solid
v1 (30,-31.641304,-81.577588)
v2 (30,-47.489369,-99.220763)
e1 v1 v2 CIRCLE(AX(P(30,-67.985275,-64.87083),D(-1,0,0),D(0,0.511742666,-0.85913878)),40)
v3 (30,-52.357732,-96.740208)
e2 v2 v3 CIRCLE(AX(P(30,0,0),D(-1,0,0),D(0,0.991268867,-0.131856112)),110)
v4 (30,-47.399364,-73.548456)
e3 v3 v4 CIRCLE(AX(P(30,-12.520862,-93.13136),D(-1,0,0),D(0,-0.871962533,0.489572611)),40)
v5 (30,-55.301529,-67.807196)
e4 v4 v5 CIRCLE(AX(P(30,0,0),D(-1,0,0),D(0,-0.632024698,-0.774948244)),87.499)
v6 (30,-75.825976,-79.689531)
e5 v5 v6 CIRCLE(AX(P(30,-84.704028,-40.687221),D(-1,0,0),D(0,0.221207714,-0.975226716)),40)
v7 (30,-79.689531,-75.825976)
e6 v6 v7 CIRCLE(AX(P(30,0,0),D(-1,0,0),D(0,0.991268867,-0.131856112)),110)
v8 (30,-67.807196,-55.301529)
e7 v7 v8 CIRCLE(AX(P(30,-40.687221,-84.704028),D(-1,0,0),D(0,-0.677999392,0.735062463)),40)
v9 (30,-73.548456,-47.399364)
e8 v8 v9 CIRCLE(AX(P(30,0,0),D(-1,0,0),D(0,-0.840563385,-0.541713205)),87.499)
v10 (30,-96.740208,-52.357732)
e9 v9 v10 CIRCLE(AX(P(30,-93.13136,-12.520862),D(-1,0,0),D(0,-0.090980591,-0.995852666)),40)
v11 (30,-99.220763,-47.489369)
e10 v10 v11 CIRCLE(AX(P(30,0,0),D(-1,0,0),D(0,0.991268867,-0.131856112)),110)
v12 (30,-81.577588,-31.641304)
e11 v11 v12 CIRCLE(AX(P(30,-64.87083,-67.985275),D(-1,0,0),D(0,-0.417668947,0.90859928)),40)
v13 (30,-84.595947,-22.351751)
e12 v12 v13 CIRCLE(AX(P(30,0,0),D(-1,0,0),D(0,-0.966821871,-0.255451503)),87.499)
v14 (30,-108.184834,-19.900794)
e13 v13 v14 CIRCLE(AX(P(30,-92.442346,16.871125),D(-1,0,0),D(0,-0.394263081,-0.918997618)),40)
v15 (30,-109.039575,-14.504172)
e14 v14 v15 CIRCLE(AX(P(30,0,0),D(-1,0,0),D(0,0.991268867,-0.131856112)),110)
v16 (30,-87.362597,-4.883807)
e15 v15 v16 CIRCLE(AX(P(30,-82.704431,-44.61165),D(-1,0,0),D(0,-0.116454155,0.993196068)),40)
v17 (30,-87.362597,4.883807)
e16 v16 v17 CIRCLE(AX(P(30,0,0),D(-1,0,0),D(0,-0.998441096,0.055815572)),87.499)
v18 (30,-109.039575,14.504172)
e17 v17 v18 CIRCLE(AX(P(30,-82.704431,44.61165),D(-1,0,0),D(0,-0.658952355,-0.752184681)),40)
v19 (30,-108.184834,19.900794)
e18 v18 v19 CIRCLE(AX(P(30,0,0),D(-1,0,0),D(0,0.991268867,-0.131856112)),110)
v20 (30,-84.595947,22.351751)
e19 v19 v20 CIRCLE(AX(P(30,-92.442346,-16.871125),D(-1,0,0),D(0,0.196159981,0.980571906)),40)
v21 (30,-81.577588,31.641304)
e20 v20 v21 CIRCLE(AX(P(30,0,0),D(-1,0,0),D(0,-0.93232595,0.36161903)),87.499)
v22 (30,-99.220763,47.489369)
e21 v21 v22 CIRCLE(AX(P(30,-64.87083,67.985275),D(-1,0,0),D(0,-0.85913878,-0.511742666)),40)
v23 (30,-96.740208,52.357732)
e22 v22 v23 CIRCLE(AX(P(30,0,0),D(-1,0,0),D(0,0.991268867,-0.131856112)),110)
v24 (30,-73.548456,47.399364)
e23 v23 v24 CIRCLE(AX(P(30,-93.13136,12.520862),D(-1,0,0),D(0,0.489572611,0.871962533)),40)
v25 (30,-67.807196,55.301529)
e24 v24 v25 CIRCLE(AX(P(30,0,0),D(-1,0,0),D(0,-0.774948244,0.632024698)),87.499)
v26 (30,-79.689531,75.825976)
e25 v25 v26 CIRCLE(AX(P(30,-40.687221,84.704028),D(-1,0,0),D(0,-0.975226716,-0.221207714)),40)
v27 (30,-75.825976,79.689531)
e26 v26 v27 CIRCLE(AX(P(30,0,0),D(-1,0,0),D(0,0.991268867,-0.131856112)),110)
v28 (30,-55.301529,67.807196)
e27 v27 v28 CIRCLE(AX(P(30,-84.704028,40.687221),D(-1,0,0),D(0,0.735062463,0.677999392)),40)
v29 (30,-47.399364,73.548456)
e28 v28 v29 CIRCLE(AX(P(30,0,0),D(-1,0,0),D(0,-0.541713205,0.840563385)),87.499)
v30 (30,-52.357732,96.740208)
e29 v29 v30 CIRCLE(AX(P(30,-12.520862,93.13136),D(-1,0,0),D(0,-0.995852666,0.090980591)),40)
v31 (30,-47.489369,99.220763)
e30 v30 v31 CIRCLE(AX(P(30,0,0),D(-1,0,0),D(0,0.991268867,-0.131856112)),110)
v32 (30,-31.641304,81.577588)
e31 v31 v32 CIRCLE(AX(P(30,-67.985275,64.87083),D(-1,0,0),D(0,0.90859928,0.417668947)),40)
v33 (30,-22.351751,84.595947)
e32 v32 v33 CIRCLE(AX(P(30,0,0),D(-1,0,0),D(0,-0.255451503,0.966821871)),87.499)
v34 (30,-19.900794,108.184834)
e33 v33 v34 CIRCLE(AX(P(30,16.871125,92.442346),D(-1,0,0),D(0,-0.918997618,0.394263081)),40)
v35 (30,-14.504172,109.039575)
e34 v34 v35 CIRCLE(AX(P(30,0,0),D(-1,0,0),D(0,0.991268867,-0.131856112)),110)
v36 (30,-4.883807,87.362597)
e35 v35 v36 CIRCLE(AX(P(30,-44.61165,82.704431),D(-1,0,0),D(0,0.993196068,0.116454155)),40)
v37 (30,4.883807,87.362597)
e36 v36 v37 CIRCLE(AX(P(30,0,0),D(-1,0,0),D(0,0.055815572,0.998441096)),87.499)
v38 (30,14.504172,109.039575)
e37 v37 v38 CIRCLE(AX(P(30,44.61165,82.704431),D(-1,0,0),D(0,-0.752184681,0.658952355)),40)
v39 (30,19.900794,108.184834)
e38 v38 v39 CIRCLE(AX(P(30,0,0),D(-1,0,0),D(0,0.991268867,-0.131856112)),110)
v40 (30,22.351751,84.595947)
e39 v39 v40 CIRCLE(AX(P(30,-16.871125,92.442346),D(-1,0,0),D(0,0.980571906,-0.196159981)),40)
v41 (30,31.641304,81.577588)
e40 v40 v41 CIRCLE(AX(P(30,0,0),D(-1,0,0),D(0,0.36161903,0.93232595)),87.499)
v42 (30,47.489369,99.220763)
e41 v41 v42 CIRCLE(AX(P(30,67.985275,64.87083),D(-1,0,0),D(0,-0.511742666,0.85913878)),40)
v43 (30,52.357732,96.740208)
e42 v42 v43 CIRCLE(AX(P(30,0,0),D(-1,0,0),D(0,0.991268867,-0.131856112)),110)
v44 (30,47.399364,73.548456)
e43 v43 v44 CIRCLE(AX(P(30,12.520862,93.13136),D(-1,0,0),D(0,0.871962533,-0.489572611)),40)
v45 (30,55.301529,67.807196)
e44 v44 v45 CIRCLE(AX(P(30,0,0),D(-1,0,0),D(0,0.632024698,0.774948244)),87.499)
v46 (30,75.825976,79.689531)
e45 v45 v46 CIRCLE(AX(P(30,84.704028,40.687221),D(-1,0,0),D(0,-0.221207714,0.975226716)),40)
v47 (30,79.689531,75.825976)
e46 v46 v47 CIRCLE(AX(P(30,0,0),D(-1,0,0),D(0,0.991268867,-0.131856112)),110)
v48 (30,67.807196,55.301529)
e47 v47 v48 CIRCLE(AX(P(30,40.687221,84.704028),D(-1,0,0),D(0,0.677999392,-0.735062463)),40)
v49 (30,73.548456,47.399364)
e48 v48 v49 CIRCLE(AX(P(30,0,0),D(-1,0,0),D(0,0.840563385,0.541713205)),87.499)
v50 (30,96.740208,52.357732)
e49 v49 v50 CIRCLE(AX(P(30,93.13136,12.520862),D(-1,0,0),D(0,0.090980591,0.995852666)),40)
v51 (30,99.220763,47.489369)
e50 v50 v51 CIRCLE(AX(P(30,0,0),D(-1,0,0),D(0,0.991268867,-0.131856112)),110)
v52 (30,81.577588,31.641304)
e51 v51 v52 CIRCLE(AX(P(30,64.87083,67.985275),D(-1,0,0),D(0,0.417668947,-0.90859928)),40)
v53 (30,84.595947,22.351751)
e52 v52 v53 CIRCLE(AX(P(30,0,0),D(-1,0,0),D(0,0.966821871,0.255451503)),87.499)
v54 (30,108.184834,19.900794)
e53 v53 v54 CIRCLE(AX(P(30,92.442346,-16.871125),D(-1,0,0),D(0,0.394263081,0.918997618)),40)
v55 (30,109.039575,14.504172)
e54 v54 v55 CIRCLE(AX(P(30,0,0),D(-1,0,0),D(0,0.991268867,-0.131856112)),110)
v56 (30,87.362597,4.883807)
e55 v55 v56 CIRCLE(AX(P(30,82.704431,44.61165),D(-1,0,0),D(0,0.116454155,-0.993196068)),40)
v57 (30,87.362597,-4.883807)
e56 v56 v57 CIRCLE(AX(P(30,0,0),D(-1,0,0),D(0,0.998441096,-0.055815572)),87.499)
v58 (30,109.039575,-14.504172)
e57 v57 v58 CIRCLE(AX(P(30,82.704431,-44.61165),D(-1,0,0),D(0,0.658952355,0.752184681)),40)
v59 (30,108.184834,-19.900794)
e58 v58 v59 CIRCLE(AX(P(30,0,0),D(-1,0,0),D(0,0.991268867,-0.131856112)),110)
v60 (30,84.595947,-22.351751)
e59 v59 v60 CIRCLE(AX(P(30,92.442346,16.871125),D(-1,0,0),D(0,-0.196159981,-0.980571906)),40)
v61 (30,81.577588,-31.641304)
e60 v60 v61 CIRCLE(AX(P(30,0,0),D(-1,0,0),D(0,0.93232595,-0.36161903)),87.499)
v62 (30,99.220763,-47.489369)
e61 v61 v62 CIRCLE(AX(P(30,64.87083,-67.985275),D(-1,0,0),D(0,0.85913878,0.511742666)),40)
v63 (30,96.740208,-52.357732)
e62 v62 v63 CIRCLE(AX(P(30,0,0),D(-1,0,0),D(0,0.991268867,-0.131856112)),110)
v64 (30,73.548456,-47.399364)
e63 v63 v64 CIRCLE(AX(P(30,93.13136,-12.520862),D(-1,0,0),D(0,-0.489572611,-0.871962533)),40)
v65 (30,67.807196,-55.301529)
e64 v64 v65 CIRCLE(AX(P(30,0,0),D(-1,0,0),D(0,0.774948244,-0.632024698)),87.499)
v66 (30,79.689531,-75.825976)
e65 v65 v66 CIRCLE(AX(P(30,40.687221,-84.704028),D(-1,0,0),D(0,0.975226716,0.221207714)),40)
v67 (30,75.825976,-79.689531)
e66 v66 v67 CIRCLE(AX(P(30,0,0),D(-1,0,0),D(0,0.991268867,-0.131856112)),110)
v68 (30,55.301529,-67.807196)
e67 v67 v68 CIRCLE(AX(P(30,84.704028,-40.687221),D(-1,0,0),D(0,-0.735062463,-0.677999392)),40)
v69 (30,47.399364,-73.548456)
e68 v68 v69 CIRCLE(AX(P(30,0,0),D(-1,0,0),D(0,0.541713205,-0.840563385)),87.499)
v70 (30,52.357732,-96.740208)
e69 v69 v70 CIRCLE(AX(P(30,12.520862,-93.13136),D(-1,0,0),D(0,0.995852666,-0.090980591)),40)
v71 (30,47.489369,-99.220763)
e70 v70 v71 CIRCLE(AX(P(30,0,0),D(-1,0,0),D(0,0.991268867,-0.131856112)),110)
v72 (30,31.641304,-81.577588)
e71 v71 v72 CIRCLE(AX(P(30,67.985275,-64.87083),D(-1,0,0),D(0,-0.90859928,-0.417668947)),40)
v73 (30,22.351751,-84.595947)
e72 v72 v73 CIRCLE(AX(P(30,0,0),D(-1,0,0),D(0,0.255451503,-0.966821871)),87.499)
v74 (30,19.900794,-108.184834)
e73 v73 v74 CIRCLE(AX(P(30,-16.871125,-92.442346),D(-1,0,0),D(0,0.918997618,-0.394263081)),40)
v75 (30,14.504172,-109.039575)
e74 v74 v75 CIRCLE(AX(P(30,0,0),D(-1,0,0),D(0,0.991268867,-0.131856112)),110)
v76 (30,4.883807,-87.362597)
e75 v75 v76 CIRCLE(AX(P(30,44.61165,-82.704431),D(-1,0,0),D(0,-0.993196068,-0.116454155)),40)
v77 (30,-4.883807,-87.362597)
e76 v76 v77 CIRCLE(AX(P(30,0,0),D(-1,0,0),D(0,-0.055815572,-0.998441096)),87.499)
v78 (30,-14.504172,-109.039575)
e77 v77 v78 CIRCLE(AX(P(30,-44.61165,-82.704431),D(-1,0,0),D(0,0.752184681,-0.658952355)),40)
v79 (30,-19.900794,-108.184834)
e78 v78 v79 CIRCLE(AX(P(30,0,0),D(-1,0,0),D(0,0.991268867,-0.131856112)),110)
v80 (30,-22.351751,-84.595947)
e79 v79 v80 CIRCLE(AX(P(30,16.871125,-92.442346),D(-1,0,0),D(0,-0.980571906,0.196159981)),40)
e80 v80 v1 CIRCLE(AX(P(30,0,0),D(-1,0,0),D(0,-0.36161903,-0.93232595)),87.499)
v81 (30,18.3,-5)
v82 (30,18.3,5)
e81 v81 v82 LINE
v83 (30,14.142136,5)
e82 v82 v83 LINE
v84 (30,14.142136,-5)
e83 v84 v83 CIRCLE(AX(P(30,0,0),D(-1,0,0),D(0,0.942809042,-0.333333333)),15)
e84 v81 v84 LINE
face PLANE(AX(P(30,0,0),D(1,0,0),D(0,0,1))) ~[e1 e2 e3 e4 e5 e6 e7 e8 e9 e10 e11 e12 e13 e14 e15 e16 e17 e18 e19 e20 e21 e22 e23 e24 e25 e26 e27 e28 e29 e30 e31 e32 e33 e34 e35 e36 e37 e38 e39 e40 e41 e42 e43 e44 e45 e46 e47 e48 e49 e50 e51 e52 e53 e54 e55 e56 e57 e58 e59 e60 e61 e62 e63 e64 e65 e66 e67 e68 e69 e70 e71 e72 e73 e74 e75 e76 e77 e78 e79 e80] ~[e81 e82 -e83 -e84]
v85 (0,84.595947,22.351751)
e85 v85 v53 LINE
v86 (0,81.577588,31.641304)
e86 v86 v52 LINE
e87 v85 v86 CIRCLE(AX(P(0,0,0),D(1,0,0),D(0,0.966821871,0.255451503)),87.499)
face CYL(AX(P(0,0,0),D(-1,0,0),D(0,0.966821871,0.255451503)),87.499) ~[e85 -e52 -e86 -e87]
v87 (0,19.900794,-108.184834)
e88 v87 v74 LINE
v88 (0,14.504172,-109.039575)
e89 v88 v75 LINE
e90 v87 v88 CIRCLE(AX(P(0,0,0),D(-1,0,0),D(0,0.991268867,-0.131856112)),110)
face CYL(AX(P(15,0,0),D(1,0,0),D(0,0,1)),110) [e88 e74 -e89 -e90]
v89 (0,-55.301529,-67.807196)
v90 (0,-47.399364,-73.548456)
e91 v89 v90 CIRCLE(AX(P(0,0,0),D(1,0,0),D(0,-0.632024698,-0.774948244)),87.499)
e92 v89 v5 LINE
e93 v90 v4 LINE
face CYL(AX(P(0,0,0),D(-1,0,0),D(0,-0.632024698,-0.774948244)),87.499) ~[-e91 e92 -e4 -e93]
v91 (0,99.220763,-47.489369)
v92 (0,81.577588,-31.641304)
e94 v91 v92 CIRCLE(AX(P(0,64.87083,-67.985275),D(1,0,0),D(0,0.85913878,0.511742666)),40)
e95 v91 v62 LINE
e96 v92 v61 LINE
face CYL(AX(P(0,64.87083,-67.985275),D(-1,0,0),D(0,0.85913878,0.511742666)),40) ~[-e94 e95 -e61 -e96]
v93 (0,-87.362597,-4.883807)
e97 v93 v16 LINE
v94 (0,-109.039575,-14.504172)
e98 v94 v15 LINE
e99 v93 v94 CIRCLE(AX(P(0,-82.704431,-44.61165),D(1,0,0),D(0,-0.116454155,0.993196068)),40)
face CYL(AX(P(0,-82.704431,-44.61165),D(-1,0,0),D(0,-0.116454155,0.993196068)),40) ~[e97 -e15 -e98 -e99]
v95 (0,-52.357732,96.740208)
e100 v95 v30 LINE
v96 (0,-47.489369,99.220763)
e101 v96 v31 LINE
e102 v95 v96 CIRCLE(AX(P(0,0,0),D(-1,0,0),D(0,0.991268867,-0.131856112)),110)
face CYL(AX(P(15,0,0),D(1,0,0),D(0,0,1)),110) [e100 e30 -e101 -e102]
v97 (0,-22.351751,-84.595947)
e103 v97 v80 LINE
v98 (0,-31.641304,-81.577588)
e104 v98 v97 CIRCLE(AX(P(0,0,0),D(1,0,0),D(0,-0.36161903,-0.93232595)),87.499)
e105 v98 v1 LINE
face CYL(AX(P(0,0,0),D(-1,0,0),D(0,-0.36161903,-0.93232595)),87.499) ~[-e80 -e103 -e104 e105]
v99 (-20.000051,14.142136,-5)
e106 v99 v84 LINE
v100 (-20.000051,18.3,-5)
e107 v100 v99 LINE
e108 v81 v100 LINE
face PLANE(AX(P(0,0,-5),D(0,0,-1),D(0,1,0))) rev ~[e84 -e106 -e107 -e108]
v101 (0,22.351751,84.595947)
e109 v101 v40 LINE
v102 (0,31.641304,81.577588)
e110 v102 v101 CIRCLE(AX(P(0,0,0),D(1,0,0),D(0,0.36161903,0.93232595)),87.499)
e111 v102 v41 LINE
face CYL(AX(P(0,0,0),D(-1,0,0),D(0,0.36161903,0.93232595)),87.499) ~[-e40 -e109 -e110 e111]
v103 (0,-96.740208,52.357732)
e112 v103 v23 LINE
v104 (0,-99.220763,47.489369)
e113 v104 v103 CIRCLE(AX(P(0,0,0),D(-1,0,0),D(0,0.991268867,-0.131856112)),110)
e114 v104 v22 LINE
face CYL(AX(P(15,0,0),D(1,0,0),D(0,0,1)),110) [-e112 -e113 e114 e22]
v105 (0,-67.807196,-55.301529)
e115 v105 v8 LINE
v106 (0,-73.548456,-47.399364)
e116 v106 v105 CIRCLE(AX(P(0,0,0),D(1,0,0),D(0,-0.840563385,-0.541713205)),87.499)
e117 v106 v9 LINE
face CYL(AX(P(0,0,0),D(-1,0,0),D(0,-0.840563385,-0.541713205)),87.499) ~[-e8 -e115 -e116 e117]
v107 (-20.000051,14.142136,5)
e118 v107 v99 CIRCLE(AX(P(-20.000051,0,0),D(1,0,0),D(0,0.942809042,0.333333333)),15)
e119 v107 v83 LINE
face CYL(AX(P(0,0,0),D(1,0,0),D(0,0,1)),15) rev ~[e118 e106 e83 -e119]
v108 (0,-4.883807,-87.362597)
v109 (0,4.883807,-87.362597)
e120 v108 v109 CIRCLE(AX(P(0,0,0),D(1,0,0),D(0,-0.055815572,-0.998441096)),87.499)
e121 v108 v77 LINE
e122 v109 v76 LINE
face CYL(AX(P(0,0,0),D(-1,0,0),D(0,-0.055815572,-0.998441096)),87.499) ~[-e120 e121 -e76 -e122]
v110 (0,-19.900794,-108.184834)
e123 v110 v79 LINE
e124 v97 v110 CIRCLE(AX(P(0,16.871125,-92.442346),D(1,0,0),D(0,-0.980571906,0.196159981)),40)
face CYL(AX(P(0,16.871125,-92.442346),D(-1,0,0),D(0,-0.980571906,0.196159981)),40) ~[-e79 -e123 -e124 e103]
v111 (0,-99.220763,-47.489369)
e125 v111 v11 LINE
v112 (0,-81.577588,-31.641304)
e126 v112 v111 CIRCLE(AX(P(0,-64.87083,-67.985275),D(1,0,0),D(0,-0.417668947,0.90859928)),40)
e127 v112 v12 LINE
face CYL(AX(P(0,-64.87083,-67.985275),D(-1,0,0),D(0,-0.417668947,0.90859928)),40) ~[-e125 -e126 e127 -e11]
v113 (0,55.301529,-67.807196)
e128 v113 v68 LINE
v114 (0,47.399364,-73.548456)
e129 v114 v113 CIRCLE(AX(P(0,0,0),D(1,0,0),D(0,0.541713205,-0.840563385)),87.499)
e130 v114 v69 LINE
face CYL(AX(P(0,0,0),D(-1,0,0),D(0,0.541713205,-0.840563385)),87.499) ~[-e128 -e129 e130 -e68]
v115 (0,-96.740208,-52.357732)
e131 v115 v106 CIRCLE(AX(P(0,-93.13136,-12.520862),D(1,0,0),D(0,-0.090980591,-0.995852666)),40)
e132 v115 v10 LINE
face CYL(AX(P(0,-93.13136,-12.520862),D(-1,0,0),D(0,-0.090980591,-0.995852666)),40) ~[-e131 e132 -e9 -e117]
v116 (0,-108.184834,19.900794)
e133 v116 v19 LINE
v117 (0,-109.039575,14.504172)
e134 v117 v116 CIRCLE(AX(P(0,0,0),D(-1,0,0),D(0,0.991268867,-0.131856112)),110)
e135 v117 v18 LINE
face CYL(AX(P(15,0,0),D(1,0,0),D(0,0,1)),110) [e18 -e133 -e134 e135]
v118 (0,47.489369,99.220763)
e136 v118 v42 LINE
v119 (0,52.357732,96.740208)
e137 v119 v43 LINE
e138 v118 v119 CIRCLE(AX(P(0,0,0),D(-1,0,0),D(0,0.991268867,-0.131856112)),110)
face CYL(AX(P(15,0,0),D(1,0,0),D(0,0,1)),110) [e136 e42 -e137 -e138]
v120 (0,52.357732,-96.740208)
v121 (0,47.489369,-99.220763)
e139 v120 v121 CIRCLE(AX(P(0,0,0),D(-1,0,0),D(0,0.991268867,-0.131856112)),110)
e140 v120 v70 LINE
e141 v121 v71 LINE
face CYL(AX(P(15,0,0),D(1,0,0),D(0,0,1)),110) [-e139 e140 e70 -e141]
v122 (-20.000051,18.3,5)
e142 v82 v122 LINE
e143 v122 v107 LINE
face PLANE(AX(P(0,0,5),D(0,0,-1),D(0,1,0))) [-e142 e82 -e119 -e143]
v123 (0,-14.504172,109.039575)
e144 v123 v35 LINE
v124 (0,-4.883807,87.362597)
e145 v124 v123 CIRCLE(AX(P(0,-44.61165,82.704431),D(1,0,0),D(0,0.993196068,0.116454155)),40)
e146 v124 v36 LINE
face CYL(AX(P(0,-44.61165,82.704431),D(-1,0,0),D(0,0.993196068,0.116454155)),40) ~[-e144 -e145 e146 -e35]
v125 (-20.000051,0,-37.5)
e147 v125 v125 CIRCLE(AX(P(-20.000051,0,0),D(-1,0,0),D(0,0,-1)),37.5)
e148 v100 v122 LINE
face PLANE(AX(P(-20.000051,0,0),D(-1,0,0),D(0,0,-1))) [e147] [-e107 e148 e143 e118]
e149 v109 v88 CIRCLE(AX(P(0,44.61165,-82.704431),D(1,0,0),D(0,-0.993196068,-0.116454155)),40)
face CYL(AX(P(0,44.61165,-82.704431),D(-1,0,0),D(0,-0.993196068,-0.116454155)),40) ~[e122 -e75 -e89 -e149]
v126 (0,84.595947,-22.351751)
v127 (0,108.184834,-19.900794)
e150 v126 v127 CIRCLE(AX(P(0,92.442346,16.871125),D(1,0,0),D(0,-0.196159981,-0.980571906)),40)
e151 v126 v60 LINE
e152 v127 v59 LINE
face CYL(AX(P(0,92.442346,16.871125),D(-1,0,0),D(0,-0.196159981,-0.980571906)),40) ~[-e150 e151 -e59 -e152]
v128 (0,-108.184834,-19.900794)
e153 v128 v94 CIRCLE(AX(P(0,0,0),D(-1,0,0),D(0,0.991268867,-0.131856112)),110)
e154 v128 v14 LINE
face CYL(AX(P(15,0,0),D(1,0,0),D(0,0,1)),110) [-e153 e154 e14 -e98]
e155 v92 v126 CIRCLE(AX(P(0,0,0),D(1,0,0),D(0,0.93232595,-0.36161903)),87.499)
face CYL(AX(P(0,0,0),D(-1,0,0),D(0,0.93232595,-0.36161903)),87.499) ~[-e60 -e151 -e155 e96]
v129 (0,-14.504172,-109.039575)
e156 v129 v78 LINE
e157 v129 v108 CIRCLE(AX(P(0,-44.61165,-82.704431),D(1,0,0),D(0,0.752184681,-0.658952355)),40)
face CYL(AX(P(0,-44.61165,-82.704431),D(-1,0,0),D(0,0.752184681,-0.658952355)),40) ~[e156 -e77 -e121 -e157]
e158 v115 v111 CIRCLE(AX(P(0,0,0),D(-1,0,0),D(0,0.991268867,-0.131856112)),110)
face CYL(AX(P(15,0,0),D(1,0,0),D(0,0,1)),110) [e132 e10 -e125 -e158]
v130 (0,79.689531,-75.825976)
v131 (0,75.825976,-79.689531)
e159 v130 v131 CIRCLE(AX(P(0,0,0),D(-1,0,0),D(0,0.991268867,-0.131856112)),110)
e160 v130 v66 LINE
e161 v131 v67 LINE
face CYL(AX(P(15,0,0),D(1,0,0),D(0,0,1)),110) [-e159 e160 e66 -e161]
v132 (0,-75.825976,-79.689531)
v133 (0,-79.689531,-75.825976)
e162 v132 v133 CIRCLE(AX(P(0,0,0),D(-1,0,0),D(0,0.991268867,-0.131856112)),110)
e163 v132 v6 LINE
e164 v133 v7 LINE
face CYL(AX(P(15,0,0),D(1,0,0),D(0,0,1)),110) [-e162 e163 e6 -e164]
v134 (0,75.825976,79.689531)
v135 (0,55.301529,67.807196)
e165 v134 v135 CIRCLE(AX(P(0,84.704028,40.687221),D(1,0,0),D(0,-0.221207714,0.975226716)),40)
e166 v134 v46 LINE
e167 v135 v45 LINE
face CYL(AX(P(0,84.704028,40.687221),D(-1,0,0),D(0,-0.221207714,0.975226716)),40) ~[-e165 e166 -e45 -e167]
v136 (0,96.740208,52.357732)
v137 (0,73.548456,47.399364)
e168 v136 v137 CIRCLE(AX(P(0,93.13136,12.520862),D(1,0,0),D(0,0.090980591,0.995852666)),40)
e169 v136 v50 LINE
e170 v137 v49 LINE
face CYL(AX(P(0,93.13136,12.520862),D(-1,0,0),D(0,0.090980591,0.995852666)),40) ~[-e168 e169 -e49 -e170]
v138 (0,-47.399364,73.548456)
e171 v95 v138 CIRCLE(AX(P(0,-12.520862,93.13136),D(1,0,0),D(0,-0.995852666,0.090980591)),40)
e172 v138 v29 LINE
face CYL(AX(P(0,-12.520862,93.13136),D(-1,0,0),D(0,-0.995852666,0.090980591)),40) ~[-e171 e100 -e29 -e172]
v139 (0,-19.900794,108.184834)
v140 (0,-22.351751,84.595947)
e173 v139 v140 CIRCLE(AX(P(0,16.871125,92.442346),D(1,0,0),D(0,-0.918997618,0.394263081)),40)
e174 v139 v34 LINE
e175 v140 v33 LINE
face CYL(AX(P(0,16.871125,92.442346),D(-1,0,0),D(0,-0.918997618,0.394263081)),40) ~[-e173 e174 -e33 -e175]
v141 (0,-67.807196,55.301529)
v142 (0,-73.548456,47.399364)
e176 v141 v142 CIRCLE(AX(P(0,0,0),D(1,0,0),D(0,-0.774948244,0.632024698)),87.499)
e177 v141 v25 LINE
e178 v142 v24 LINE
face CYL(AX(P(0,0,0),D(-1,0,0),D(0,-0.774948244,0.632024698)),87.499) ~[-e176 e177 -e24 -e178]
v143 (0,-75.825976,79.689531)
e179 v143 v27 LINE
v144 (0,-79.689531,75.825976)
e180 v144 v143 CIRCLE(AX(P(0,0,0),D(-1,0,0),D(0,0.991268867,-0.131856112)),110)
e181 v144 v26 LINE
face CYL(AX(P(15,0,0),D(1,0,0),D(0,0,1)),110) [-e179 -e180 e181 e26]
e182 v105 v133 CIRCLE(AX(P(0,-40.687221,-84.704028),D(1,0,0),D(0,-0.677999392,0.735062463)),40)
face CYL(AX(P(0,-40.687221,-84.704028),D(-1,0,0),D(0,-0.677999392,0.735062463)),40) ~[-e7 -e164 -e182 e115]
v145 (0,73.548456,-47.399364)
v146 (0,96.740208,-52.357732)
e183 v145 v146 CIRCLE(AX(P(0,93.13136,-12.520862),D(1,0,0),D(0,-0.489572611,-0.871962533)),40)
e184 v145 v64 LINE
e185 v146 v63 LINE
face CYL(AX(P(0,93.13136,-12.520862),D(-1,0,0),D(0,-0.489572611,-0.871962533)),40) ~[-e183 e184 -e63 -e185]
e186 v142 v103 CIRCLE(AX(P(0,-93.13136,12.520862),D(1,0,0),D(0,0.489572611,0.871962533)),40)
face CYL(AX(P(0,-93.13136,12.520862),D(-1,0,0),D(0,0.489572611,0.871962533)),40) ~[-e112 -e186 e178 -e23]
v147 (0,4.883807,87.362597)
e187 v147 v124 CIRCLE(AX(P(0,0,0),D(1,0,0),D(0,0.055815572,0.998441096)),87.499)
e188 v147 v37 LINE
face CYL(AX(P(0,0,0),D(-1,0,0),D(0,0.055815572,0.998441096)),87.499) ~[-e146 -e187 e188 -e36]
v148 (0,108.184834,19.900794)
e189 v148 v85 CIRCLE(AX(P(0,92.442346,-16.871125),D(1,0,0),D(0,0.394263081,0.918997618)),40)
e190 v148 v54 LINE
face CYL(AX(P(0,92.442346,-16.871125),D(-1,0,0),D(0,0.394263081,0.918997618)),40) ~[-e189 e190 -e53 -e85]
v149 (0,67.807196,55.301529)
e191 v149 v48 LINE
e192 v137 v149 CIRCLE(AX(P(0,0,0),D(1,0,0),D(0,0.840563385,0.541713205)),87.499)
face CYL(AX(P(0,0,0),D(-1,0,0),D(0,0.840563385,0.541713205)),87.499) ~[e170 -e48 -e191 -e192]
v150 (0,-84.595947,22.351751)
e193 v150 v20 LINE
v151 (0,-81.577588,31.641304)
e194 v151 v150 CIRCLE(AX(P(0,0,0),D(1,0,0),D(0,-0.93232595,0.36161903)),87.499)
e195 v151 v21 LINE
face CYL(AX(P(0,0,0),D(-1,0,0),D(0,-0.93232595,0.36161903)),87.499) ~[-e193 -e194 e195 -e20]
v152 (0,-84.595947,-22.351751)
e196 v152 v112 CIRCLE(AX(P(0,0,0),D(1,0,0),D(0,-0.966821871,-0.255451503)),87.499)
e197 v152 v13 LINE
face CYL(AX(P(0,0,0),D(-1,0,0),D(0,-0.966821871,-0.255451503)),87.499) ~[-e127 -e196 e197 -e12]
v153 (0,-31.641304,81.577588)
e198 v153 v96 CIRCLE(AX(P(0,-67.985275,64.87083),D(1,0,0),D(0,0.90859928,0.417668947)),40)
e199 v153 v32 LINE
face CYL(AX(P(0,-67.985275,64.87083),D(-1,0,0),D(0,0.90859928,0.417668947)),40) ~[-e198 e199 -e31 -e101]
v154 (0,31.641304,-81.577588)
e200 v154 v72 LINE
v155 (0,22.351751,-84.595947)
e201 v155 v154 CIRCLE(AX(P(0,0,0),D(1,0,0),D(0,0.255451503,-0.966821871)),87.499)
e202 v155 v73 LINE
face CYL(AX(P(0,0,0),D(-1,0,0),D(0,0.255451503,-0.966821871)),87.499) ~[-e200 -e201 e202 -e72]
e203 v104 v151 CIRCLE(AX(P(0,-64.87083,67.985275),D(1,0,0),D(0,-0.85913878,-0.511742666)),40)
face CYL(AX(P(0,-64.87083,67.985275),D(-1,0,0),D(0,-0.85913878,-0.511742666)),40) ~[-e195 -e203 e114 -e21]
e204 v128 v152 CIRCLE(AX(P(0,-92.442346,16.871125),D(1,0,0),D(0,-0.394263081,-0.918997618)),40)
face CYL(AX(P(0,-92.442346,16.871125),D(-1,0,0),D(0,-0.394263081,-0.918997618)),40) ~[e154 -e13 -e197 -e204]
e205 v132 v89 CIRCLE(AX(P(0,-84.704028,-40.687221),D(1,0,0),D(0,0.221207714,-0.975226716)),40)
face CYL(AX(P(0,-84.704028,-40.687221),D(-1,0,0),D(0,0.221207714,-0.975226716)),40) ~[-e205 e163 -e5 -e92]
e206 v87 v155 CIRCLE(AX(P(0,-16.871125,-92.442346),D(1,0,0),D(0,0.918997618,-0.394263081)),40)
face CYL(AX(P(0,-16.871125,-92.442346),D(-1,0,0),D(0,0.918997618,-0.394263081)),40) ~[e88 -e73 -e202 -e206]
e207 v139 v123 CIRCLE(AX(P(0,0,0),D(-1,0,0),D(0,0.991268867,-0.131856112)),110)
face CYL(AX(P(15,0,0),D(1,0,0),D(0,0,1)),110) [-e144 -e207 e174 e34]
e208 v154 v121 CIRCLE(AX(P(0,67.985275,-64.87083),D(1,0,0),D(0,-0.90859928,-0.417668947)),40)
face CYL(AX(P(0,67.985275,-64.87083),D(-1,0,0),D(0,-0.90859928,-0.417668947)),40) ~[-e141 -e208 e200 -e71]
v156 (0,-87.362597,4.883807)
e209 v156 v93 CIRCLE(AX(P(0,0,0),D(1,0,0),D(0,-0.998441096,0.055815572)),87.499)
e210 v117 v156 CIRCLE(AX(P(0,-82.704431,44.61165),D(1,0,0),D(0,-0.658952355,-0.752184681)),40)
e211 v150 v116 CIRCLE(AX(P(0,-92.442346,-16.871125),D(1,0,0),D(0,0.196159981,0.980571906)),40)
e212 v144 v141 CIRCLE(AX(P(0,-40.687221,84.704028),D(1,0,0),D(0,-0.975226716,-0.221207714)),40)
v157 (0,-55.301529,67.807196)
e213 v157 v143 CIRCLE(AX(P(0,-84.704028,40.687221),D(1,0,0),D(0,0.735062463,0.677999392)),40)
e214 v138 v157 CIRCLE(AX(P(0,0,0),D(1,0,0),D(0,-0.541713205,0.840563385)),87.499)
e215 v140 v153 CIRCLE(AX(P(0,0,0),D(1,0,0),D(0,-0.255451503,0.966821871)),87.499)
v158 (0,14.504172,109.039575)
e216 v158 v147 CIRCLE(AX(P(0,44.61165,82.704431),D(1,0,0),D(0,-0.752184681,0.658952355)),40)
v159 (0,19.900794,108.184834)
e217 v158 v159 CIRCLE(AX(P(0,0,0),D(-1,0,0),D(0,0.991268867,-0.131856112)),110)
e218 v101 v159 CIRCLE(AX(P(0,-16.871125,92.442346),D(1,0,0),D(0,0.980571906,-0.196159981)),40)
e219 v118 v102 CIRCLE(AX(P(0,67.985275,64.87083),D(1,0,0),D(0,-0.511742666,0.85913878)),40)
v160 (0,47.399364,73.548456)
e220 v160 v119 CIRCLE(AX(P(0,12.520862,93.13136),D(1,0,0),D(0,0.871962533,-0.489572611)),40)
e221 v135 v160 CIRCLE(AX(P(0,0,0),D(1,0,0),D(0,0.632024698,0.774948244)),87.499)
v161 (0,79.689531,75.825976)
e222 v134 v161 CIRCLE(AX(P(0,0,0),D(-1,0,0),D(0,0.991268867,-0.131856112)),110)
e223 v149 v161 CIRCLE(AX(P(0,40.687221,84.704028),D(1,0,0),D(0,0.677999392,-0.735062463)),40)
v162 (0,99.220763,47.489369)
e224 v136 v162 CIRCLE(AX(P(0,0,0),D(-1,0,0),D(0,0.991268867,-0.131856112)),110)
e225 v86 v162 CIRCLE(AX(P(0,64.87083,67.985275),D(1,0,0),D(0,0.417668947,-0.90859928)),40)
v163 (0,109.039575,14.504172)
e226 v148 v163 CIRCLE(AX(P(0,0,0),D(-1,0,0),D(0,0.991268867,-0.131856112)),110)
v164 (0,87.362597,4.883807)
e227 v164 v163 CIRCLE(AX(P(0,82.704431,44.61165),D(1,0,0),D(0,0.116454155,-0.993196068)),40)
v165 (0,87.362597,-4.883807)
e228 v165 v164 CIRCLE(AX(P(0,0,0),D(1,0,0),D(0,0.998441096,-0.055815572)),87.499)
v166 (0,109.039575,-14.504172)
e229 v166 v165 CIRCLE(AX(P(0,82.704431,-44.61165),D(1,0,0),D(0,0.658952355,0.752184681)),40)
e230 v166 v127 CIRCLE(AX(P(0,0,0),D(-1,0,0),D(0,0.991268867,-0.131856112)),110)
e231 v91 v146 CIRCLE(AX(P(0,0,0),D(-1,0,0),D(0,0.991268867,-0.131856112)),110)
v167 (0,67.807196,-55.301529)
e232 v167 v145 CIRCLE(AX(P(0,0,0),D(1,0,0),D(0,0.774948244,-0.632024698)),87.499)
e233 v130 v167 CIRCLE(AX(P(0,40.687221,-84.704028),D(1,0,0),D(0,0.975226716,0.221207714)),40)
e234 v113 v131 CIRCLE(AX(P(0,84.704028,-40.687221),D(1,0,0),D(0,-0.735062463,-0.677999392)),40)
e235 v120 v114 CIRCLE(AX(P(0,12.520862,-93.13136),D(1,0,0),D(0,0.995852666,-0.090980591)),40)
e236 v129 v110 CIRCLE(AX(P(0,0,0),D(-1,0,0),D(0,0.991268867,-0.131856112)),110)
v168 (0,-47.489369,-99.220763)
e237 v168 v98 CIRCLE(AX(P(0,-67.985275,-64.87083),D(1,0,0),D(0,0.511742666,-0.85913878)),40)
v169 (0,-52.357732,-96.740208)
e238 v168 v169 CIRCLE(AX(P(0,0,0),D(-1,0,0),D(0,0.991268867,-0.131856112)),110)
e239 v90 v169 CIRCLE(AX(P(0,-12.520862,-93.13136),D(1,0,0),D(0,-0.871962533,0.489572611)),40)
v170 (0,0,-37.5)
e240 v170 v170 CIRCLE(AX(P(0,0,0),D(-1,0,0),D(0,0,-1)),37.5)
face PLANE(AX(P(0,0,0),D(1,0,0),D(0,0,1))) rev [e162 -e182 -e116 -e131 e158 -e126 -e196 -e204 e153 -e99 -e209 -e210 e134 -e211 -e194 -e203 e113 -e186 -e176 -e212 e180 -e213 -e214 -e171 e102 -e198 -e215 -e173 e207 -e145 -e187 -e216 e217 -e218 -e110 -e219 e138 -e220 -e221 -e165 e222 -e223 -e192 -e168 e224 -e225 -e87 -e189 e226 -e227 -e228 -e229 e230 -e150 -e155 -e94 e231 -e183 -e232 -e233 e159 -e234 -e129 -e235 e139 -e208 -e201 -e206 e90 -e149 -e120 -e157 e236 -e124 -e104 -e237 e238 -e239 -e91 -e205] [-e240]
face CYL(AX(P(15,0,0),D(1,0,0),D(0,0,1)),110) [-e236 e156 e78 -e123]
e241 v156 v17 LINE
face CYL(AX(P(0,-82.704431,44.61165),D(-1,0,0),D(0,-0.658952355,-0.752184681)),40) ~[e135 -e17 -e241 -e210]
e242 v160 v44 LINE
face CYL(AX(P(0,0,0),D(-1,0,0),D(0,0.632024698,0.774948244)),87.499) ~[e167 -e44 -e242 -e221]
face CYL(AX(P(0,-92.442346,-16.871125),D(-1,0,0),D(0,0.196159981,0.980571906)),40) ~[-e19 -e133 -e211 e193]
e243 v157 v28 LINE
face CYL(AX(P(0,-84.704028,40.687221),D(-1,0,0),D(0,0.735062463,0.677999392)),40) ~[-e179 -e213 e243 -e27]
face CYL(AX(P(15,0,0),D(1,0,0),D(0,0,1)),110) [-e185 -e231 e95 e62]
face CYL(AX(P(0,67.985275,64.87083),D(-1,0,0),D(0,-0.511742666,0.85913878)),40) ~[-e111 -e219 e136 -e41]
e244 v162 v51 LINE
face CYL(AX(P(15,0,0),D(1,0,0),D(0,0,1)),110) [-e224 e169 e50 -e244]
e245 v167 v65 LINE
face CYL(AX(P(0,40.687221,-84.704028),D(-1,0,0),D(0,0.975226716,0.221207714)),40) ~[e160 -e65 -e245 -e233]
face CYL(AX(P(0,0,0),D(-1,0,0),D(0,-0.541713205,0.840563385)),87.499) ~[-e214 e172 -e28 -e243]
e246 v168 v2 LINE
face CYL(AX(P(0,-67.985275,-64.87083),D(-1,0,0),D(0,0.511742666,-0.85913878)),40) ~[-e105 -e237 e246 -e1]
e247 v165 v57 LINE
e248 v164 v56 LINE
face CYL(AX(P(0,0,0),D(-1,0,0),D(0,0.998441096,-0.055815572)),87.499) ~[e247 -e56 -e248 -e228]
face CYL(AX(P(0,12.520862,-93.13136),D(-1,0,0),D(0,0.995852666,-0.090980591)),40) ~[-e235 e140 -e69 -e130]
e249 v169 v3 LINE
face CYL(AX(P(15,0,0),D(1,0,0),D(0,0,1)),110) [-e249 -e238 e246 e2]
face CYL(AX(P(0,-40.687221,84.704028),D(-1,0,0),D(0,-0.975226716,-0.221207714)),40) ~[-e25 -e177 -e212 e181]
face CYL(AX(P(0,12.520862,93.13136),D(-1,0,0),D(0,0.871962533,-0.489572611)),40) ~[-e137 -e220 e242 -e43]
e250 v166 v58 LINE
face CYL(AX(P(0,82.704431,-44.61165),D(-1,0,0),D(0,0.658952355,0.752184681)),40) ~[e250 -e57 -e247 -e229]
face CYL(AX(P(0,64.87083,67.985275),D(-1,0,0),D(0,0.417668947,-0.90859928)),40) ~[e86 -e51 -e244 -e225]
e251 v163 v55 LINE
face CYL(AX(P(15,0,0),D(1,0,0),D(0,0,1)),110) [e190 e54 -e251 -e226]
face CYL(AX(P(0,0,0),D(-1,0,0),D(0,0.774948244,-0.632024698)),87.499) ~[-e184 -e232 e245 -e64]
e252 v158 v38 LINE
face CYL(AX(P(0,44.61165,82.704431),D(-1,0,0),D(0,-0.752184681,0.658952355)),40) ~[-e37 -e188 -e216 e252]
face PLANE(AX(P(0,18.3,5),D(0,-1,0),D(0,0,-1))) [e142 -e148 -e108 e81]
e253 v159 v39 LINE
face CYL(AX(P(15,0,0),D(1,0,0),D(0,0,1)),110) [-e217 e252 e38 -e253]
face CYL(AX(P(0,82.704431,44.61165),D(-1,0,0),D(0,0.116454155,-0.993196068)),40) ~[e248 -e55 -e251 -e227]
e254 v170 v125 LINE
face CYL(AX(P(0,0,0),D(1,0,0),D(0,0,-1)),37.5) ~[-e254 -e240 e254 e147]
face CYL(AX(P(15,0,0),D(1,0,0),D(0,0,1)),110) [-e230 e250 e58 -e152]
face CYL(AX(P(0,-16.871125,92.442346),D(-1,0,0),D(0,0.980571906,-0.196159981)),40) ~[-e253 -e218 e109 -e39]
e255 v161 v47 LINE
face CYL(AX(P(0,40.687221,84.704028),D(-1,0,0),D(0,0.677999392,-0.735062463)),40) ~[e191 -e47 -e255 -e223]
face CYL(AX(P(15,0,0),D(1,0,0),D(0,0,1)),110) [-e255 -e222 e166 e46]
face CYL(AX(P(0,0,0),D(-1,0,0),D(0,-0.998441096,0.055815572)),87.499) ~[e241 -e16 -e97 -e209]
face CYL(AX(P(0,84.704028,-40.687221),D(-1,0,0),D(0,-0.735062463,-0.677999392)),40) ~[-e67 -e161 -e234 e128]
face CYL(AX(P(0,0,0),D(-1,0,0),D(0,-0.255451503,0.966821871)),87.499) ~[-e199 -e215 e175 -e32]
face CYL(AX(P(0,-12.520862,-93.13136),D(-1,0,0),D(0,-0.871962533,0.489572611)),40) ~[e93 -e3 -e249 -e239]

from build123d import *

# Parameters (mm, degrees)
BASPROSKE_W      = 30
BASPROSKE_H      = 110
TOOTHCUT_DEPTH   = 159.429795178
TEETHCUTS_COUNT  = 20
TEETHCUTS_ANGLE  = 342
HUBNEAONESKE_R   = 37.5
HUBNEARONE_DEPTH = 20.0000508
BORSKE_R         = 15
BORE_DEPTH       = 50.0000508
KEYSKE_W         = 10
KEYSKE_H         = 18.3
KEYWAY_DEPTH     = 50.0000508


with BuildPart() as part:
    # BasProSke → Base-Revolve (revolve)
    with BuildSketch(Plane(origin=(0, 0, 0), x_dir=(1, 0, 0), z_dir=(0, 1, 0)), mode=Mode.PRIVATE) as base_revolve_sk:
        with Locations((15, 55)):
            Rectangle(BASPROSKE_W, BASPROSKE_H)
    revolve(base_revolve_sk.sketch.rotate(Axis((-10, 0, 0), (1, 0, 0)), 180), axis=Axis((-10, 0, 0), (1, 0, 0)))

    # TooCutSke → ToothCut (cut, through all)
    with BuildSketch(Plane(origin=(0, 0, 0), x_dir=(0, 0, -1), z_dir=(1, 0, 0))):
        with BuildLine():
            ThreePointArc((4.883806789, 87.362597445), (0, 87.499), (-4.883806789, 87.362597445))
            ThreePointArc((-4.883806789, 87.362597445), (-8.05671411, 98.944403454), (-14.524262272, 109.062525418))
            ThreePointArc((-14.524262272, 109.062525418), (0, 110.0254), (14.524262272, 109.062525418))
            ThreePointArc((14.524262272, 109.062525418), (8.05671411, 98.944403454), (4.883806789, 87.362597445))
        make_face()
    toothcut = extrude(amount=TOOTHCUT_DEPTH, mode=Mode.SUBTRACT)

    # TeethCuts: ToothCut ×20 about axis
    teethcuts_axis = Axis((-10, 0, 0), (1, 0, 0))
    for i in range(1, TEETHCUTS_COUNT):
        add(toothcut.rotate(teethcuts_axis, i * TEETHCUTS_ANGLE / (TEETHCUTS_COUNT - 1)), mode=Mode.SUBTRACT)

    # HubNeaOneSke → HubNearOne (add)
    with BuildSketch(Plane.ZY):
        with Locations(Location((0, 0, 0), (0, 0, 180))):
            Circle(HUBNEAONESKE_R)
    extrude(amount=HUBNEARONE_DEPTH)

    # BorSke → Bore (cut, symmetric)
    with BuildSketch(Plane(origin=(0, 0, 0), x_dir=(0, 0, -1), z_dir=(1, 0, 0))):
        with Locations(Location((0, 0, 0), (0, 0, 180))):
            Circle(BORSKE_R)
    extrude(amount=BORE_DEPTH, both=True, mode=Mode.SUBTRACT)

    # KeySke → Keyway (cut, symmetric)
    with BuildSketch(Plane(origin=(0, 0, 0), x_dir=(0, 0, -1), z_dir=(1, 0, 0))):
        with Locations((0, 9.15)):
            Rectangle(KEYSKE_W, KEYSKE_H)
    extrude(amount=KEYWAY_DEPTH, both=True, mode=Mode.SUBTRACT)


solid = part.part
